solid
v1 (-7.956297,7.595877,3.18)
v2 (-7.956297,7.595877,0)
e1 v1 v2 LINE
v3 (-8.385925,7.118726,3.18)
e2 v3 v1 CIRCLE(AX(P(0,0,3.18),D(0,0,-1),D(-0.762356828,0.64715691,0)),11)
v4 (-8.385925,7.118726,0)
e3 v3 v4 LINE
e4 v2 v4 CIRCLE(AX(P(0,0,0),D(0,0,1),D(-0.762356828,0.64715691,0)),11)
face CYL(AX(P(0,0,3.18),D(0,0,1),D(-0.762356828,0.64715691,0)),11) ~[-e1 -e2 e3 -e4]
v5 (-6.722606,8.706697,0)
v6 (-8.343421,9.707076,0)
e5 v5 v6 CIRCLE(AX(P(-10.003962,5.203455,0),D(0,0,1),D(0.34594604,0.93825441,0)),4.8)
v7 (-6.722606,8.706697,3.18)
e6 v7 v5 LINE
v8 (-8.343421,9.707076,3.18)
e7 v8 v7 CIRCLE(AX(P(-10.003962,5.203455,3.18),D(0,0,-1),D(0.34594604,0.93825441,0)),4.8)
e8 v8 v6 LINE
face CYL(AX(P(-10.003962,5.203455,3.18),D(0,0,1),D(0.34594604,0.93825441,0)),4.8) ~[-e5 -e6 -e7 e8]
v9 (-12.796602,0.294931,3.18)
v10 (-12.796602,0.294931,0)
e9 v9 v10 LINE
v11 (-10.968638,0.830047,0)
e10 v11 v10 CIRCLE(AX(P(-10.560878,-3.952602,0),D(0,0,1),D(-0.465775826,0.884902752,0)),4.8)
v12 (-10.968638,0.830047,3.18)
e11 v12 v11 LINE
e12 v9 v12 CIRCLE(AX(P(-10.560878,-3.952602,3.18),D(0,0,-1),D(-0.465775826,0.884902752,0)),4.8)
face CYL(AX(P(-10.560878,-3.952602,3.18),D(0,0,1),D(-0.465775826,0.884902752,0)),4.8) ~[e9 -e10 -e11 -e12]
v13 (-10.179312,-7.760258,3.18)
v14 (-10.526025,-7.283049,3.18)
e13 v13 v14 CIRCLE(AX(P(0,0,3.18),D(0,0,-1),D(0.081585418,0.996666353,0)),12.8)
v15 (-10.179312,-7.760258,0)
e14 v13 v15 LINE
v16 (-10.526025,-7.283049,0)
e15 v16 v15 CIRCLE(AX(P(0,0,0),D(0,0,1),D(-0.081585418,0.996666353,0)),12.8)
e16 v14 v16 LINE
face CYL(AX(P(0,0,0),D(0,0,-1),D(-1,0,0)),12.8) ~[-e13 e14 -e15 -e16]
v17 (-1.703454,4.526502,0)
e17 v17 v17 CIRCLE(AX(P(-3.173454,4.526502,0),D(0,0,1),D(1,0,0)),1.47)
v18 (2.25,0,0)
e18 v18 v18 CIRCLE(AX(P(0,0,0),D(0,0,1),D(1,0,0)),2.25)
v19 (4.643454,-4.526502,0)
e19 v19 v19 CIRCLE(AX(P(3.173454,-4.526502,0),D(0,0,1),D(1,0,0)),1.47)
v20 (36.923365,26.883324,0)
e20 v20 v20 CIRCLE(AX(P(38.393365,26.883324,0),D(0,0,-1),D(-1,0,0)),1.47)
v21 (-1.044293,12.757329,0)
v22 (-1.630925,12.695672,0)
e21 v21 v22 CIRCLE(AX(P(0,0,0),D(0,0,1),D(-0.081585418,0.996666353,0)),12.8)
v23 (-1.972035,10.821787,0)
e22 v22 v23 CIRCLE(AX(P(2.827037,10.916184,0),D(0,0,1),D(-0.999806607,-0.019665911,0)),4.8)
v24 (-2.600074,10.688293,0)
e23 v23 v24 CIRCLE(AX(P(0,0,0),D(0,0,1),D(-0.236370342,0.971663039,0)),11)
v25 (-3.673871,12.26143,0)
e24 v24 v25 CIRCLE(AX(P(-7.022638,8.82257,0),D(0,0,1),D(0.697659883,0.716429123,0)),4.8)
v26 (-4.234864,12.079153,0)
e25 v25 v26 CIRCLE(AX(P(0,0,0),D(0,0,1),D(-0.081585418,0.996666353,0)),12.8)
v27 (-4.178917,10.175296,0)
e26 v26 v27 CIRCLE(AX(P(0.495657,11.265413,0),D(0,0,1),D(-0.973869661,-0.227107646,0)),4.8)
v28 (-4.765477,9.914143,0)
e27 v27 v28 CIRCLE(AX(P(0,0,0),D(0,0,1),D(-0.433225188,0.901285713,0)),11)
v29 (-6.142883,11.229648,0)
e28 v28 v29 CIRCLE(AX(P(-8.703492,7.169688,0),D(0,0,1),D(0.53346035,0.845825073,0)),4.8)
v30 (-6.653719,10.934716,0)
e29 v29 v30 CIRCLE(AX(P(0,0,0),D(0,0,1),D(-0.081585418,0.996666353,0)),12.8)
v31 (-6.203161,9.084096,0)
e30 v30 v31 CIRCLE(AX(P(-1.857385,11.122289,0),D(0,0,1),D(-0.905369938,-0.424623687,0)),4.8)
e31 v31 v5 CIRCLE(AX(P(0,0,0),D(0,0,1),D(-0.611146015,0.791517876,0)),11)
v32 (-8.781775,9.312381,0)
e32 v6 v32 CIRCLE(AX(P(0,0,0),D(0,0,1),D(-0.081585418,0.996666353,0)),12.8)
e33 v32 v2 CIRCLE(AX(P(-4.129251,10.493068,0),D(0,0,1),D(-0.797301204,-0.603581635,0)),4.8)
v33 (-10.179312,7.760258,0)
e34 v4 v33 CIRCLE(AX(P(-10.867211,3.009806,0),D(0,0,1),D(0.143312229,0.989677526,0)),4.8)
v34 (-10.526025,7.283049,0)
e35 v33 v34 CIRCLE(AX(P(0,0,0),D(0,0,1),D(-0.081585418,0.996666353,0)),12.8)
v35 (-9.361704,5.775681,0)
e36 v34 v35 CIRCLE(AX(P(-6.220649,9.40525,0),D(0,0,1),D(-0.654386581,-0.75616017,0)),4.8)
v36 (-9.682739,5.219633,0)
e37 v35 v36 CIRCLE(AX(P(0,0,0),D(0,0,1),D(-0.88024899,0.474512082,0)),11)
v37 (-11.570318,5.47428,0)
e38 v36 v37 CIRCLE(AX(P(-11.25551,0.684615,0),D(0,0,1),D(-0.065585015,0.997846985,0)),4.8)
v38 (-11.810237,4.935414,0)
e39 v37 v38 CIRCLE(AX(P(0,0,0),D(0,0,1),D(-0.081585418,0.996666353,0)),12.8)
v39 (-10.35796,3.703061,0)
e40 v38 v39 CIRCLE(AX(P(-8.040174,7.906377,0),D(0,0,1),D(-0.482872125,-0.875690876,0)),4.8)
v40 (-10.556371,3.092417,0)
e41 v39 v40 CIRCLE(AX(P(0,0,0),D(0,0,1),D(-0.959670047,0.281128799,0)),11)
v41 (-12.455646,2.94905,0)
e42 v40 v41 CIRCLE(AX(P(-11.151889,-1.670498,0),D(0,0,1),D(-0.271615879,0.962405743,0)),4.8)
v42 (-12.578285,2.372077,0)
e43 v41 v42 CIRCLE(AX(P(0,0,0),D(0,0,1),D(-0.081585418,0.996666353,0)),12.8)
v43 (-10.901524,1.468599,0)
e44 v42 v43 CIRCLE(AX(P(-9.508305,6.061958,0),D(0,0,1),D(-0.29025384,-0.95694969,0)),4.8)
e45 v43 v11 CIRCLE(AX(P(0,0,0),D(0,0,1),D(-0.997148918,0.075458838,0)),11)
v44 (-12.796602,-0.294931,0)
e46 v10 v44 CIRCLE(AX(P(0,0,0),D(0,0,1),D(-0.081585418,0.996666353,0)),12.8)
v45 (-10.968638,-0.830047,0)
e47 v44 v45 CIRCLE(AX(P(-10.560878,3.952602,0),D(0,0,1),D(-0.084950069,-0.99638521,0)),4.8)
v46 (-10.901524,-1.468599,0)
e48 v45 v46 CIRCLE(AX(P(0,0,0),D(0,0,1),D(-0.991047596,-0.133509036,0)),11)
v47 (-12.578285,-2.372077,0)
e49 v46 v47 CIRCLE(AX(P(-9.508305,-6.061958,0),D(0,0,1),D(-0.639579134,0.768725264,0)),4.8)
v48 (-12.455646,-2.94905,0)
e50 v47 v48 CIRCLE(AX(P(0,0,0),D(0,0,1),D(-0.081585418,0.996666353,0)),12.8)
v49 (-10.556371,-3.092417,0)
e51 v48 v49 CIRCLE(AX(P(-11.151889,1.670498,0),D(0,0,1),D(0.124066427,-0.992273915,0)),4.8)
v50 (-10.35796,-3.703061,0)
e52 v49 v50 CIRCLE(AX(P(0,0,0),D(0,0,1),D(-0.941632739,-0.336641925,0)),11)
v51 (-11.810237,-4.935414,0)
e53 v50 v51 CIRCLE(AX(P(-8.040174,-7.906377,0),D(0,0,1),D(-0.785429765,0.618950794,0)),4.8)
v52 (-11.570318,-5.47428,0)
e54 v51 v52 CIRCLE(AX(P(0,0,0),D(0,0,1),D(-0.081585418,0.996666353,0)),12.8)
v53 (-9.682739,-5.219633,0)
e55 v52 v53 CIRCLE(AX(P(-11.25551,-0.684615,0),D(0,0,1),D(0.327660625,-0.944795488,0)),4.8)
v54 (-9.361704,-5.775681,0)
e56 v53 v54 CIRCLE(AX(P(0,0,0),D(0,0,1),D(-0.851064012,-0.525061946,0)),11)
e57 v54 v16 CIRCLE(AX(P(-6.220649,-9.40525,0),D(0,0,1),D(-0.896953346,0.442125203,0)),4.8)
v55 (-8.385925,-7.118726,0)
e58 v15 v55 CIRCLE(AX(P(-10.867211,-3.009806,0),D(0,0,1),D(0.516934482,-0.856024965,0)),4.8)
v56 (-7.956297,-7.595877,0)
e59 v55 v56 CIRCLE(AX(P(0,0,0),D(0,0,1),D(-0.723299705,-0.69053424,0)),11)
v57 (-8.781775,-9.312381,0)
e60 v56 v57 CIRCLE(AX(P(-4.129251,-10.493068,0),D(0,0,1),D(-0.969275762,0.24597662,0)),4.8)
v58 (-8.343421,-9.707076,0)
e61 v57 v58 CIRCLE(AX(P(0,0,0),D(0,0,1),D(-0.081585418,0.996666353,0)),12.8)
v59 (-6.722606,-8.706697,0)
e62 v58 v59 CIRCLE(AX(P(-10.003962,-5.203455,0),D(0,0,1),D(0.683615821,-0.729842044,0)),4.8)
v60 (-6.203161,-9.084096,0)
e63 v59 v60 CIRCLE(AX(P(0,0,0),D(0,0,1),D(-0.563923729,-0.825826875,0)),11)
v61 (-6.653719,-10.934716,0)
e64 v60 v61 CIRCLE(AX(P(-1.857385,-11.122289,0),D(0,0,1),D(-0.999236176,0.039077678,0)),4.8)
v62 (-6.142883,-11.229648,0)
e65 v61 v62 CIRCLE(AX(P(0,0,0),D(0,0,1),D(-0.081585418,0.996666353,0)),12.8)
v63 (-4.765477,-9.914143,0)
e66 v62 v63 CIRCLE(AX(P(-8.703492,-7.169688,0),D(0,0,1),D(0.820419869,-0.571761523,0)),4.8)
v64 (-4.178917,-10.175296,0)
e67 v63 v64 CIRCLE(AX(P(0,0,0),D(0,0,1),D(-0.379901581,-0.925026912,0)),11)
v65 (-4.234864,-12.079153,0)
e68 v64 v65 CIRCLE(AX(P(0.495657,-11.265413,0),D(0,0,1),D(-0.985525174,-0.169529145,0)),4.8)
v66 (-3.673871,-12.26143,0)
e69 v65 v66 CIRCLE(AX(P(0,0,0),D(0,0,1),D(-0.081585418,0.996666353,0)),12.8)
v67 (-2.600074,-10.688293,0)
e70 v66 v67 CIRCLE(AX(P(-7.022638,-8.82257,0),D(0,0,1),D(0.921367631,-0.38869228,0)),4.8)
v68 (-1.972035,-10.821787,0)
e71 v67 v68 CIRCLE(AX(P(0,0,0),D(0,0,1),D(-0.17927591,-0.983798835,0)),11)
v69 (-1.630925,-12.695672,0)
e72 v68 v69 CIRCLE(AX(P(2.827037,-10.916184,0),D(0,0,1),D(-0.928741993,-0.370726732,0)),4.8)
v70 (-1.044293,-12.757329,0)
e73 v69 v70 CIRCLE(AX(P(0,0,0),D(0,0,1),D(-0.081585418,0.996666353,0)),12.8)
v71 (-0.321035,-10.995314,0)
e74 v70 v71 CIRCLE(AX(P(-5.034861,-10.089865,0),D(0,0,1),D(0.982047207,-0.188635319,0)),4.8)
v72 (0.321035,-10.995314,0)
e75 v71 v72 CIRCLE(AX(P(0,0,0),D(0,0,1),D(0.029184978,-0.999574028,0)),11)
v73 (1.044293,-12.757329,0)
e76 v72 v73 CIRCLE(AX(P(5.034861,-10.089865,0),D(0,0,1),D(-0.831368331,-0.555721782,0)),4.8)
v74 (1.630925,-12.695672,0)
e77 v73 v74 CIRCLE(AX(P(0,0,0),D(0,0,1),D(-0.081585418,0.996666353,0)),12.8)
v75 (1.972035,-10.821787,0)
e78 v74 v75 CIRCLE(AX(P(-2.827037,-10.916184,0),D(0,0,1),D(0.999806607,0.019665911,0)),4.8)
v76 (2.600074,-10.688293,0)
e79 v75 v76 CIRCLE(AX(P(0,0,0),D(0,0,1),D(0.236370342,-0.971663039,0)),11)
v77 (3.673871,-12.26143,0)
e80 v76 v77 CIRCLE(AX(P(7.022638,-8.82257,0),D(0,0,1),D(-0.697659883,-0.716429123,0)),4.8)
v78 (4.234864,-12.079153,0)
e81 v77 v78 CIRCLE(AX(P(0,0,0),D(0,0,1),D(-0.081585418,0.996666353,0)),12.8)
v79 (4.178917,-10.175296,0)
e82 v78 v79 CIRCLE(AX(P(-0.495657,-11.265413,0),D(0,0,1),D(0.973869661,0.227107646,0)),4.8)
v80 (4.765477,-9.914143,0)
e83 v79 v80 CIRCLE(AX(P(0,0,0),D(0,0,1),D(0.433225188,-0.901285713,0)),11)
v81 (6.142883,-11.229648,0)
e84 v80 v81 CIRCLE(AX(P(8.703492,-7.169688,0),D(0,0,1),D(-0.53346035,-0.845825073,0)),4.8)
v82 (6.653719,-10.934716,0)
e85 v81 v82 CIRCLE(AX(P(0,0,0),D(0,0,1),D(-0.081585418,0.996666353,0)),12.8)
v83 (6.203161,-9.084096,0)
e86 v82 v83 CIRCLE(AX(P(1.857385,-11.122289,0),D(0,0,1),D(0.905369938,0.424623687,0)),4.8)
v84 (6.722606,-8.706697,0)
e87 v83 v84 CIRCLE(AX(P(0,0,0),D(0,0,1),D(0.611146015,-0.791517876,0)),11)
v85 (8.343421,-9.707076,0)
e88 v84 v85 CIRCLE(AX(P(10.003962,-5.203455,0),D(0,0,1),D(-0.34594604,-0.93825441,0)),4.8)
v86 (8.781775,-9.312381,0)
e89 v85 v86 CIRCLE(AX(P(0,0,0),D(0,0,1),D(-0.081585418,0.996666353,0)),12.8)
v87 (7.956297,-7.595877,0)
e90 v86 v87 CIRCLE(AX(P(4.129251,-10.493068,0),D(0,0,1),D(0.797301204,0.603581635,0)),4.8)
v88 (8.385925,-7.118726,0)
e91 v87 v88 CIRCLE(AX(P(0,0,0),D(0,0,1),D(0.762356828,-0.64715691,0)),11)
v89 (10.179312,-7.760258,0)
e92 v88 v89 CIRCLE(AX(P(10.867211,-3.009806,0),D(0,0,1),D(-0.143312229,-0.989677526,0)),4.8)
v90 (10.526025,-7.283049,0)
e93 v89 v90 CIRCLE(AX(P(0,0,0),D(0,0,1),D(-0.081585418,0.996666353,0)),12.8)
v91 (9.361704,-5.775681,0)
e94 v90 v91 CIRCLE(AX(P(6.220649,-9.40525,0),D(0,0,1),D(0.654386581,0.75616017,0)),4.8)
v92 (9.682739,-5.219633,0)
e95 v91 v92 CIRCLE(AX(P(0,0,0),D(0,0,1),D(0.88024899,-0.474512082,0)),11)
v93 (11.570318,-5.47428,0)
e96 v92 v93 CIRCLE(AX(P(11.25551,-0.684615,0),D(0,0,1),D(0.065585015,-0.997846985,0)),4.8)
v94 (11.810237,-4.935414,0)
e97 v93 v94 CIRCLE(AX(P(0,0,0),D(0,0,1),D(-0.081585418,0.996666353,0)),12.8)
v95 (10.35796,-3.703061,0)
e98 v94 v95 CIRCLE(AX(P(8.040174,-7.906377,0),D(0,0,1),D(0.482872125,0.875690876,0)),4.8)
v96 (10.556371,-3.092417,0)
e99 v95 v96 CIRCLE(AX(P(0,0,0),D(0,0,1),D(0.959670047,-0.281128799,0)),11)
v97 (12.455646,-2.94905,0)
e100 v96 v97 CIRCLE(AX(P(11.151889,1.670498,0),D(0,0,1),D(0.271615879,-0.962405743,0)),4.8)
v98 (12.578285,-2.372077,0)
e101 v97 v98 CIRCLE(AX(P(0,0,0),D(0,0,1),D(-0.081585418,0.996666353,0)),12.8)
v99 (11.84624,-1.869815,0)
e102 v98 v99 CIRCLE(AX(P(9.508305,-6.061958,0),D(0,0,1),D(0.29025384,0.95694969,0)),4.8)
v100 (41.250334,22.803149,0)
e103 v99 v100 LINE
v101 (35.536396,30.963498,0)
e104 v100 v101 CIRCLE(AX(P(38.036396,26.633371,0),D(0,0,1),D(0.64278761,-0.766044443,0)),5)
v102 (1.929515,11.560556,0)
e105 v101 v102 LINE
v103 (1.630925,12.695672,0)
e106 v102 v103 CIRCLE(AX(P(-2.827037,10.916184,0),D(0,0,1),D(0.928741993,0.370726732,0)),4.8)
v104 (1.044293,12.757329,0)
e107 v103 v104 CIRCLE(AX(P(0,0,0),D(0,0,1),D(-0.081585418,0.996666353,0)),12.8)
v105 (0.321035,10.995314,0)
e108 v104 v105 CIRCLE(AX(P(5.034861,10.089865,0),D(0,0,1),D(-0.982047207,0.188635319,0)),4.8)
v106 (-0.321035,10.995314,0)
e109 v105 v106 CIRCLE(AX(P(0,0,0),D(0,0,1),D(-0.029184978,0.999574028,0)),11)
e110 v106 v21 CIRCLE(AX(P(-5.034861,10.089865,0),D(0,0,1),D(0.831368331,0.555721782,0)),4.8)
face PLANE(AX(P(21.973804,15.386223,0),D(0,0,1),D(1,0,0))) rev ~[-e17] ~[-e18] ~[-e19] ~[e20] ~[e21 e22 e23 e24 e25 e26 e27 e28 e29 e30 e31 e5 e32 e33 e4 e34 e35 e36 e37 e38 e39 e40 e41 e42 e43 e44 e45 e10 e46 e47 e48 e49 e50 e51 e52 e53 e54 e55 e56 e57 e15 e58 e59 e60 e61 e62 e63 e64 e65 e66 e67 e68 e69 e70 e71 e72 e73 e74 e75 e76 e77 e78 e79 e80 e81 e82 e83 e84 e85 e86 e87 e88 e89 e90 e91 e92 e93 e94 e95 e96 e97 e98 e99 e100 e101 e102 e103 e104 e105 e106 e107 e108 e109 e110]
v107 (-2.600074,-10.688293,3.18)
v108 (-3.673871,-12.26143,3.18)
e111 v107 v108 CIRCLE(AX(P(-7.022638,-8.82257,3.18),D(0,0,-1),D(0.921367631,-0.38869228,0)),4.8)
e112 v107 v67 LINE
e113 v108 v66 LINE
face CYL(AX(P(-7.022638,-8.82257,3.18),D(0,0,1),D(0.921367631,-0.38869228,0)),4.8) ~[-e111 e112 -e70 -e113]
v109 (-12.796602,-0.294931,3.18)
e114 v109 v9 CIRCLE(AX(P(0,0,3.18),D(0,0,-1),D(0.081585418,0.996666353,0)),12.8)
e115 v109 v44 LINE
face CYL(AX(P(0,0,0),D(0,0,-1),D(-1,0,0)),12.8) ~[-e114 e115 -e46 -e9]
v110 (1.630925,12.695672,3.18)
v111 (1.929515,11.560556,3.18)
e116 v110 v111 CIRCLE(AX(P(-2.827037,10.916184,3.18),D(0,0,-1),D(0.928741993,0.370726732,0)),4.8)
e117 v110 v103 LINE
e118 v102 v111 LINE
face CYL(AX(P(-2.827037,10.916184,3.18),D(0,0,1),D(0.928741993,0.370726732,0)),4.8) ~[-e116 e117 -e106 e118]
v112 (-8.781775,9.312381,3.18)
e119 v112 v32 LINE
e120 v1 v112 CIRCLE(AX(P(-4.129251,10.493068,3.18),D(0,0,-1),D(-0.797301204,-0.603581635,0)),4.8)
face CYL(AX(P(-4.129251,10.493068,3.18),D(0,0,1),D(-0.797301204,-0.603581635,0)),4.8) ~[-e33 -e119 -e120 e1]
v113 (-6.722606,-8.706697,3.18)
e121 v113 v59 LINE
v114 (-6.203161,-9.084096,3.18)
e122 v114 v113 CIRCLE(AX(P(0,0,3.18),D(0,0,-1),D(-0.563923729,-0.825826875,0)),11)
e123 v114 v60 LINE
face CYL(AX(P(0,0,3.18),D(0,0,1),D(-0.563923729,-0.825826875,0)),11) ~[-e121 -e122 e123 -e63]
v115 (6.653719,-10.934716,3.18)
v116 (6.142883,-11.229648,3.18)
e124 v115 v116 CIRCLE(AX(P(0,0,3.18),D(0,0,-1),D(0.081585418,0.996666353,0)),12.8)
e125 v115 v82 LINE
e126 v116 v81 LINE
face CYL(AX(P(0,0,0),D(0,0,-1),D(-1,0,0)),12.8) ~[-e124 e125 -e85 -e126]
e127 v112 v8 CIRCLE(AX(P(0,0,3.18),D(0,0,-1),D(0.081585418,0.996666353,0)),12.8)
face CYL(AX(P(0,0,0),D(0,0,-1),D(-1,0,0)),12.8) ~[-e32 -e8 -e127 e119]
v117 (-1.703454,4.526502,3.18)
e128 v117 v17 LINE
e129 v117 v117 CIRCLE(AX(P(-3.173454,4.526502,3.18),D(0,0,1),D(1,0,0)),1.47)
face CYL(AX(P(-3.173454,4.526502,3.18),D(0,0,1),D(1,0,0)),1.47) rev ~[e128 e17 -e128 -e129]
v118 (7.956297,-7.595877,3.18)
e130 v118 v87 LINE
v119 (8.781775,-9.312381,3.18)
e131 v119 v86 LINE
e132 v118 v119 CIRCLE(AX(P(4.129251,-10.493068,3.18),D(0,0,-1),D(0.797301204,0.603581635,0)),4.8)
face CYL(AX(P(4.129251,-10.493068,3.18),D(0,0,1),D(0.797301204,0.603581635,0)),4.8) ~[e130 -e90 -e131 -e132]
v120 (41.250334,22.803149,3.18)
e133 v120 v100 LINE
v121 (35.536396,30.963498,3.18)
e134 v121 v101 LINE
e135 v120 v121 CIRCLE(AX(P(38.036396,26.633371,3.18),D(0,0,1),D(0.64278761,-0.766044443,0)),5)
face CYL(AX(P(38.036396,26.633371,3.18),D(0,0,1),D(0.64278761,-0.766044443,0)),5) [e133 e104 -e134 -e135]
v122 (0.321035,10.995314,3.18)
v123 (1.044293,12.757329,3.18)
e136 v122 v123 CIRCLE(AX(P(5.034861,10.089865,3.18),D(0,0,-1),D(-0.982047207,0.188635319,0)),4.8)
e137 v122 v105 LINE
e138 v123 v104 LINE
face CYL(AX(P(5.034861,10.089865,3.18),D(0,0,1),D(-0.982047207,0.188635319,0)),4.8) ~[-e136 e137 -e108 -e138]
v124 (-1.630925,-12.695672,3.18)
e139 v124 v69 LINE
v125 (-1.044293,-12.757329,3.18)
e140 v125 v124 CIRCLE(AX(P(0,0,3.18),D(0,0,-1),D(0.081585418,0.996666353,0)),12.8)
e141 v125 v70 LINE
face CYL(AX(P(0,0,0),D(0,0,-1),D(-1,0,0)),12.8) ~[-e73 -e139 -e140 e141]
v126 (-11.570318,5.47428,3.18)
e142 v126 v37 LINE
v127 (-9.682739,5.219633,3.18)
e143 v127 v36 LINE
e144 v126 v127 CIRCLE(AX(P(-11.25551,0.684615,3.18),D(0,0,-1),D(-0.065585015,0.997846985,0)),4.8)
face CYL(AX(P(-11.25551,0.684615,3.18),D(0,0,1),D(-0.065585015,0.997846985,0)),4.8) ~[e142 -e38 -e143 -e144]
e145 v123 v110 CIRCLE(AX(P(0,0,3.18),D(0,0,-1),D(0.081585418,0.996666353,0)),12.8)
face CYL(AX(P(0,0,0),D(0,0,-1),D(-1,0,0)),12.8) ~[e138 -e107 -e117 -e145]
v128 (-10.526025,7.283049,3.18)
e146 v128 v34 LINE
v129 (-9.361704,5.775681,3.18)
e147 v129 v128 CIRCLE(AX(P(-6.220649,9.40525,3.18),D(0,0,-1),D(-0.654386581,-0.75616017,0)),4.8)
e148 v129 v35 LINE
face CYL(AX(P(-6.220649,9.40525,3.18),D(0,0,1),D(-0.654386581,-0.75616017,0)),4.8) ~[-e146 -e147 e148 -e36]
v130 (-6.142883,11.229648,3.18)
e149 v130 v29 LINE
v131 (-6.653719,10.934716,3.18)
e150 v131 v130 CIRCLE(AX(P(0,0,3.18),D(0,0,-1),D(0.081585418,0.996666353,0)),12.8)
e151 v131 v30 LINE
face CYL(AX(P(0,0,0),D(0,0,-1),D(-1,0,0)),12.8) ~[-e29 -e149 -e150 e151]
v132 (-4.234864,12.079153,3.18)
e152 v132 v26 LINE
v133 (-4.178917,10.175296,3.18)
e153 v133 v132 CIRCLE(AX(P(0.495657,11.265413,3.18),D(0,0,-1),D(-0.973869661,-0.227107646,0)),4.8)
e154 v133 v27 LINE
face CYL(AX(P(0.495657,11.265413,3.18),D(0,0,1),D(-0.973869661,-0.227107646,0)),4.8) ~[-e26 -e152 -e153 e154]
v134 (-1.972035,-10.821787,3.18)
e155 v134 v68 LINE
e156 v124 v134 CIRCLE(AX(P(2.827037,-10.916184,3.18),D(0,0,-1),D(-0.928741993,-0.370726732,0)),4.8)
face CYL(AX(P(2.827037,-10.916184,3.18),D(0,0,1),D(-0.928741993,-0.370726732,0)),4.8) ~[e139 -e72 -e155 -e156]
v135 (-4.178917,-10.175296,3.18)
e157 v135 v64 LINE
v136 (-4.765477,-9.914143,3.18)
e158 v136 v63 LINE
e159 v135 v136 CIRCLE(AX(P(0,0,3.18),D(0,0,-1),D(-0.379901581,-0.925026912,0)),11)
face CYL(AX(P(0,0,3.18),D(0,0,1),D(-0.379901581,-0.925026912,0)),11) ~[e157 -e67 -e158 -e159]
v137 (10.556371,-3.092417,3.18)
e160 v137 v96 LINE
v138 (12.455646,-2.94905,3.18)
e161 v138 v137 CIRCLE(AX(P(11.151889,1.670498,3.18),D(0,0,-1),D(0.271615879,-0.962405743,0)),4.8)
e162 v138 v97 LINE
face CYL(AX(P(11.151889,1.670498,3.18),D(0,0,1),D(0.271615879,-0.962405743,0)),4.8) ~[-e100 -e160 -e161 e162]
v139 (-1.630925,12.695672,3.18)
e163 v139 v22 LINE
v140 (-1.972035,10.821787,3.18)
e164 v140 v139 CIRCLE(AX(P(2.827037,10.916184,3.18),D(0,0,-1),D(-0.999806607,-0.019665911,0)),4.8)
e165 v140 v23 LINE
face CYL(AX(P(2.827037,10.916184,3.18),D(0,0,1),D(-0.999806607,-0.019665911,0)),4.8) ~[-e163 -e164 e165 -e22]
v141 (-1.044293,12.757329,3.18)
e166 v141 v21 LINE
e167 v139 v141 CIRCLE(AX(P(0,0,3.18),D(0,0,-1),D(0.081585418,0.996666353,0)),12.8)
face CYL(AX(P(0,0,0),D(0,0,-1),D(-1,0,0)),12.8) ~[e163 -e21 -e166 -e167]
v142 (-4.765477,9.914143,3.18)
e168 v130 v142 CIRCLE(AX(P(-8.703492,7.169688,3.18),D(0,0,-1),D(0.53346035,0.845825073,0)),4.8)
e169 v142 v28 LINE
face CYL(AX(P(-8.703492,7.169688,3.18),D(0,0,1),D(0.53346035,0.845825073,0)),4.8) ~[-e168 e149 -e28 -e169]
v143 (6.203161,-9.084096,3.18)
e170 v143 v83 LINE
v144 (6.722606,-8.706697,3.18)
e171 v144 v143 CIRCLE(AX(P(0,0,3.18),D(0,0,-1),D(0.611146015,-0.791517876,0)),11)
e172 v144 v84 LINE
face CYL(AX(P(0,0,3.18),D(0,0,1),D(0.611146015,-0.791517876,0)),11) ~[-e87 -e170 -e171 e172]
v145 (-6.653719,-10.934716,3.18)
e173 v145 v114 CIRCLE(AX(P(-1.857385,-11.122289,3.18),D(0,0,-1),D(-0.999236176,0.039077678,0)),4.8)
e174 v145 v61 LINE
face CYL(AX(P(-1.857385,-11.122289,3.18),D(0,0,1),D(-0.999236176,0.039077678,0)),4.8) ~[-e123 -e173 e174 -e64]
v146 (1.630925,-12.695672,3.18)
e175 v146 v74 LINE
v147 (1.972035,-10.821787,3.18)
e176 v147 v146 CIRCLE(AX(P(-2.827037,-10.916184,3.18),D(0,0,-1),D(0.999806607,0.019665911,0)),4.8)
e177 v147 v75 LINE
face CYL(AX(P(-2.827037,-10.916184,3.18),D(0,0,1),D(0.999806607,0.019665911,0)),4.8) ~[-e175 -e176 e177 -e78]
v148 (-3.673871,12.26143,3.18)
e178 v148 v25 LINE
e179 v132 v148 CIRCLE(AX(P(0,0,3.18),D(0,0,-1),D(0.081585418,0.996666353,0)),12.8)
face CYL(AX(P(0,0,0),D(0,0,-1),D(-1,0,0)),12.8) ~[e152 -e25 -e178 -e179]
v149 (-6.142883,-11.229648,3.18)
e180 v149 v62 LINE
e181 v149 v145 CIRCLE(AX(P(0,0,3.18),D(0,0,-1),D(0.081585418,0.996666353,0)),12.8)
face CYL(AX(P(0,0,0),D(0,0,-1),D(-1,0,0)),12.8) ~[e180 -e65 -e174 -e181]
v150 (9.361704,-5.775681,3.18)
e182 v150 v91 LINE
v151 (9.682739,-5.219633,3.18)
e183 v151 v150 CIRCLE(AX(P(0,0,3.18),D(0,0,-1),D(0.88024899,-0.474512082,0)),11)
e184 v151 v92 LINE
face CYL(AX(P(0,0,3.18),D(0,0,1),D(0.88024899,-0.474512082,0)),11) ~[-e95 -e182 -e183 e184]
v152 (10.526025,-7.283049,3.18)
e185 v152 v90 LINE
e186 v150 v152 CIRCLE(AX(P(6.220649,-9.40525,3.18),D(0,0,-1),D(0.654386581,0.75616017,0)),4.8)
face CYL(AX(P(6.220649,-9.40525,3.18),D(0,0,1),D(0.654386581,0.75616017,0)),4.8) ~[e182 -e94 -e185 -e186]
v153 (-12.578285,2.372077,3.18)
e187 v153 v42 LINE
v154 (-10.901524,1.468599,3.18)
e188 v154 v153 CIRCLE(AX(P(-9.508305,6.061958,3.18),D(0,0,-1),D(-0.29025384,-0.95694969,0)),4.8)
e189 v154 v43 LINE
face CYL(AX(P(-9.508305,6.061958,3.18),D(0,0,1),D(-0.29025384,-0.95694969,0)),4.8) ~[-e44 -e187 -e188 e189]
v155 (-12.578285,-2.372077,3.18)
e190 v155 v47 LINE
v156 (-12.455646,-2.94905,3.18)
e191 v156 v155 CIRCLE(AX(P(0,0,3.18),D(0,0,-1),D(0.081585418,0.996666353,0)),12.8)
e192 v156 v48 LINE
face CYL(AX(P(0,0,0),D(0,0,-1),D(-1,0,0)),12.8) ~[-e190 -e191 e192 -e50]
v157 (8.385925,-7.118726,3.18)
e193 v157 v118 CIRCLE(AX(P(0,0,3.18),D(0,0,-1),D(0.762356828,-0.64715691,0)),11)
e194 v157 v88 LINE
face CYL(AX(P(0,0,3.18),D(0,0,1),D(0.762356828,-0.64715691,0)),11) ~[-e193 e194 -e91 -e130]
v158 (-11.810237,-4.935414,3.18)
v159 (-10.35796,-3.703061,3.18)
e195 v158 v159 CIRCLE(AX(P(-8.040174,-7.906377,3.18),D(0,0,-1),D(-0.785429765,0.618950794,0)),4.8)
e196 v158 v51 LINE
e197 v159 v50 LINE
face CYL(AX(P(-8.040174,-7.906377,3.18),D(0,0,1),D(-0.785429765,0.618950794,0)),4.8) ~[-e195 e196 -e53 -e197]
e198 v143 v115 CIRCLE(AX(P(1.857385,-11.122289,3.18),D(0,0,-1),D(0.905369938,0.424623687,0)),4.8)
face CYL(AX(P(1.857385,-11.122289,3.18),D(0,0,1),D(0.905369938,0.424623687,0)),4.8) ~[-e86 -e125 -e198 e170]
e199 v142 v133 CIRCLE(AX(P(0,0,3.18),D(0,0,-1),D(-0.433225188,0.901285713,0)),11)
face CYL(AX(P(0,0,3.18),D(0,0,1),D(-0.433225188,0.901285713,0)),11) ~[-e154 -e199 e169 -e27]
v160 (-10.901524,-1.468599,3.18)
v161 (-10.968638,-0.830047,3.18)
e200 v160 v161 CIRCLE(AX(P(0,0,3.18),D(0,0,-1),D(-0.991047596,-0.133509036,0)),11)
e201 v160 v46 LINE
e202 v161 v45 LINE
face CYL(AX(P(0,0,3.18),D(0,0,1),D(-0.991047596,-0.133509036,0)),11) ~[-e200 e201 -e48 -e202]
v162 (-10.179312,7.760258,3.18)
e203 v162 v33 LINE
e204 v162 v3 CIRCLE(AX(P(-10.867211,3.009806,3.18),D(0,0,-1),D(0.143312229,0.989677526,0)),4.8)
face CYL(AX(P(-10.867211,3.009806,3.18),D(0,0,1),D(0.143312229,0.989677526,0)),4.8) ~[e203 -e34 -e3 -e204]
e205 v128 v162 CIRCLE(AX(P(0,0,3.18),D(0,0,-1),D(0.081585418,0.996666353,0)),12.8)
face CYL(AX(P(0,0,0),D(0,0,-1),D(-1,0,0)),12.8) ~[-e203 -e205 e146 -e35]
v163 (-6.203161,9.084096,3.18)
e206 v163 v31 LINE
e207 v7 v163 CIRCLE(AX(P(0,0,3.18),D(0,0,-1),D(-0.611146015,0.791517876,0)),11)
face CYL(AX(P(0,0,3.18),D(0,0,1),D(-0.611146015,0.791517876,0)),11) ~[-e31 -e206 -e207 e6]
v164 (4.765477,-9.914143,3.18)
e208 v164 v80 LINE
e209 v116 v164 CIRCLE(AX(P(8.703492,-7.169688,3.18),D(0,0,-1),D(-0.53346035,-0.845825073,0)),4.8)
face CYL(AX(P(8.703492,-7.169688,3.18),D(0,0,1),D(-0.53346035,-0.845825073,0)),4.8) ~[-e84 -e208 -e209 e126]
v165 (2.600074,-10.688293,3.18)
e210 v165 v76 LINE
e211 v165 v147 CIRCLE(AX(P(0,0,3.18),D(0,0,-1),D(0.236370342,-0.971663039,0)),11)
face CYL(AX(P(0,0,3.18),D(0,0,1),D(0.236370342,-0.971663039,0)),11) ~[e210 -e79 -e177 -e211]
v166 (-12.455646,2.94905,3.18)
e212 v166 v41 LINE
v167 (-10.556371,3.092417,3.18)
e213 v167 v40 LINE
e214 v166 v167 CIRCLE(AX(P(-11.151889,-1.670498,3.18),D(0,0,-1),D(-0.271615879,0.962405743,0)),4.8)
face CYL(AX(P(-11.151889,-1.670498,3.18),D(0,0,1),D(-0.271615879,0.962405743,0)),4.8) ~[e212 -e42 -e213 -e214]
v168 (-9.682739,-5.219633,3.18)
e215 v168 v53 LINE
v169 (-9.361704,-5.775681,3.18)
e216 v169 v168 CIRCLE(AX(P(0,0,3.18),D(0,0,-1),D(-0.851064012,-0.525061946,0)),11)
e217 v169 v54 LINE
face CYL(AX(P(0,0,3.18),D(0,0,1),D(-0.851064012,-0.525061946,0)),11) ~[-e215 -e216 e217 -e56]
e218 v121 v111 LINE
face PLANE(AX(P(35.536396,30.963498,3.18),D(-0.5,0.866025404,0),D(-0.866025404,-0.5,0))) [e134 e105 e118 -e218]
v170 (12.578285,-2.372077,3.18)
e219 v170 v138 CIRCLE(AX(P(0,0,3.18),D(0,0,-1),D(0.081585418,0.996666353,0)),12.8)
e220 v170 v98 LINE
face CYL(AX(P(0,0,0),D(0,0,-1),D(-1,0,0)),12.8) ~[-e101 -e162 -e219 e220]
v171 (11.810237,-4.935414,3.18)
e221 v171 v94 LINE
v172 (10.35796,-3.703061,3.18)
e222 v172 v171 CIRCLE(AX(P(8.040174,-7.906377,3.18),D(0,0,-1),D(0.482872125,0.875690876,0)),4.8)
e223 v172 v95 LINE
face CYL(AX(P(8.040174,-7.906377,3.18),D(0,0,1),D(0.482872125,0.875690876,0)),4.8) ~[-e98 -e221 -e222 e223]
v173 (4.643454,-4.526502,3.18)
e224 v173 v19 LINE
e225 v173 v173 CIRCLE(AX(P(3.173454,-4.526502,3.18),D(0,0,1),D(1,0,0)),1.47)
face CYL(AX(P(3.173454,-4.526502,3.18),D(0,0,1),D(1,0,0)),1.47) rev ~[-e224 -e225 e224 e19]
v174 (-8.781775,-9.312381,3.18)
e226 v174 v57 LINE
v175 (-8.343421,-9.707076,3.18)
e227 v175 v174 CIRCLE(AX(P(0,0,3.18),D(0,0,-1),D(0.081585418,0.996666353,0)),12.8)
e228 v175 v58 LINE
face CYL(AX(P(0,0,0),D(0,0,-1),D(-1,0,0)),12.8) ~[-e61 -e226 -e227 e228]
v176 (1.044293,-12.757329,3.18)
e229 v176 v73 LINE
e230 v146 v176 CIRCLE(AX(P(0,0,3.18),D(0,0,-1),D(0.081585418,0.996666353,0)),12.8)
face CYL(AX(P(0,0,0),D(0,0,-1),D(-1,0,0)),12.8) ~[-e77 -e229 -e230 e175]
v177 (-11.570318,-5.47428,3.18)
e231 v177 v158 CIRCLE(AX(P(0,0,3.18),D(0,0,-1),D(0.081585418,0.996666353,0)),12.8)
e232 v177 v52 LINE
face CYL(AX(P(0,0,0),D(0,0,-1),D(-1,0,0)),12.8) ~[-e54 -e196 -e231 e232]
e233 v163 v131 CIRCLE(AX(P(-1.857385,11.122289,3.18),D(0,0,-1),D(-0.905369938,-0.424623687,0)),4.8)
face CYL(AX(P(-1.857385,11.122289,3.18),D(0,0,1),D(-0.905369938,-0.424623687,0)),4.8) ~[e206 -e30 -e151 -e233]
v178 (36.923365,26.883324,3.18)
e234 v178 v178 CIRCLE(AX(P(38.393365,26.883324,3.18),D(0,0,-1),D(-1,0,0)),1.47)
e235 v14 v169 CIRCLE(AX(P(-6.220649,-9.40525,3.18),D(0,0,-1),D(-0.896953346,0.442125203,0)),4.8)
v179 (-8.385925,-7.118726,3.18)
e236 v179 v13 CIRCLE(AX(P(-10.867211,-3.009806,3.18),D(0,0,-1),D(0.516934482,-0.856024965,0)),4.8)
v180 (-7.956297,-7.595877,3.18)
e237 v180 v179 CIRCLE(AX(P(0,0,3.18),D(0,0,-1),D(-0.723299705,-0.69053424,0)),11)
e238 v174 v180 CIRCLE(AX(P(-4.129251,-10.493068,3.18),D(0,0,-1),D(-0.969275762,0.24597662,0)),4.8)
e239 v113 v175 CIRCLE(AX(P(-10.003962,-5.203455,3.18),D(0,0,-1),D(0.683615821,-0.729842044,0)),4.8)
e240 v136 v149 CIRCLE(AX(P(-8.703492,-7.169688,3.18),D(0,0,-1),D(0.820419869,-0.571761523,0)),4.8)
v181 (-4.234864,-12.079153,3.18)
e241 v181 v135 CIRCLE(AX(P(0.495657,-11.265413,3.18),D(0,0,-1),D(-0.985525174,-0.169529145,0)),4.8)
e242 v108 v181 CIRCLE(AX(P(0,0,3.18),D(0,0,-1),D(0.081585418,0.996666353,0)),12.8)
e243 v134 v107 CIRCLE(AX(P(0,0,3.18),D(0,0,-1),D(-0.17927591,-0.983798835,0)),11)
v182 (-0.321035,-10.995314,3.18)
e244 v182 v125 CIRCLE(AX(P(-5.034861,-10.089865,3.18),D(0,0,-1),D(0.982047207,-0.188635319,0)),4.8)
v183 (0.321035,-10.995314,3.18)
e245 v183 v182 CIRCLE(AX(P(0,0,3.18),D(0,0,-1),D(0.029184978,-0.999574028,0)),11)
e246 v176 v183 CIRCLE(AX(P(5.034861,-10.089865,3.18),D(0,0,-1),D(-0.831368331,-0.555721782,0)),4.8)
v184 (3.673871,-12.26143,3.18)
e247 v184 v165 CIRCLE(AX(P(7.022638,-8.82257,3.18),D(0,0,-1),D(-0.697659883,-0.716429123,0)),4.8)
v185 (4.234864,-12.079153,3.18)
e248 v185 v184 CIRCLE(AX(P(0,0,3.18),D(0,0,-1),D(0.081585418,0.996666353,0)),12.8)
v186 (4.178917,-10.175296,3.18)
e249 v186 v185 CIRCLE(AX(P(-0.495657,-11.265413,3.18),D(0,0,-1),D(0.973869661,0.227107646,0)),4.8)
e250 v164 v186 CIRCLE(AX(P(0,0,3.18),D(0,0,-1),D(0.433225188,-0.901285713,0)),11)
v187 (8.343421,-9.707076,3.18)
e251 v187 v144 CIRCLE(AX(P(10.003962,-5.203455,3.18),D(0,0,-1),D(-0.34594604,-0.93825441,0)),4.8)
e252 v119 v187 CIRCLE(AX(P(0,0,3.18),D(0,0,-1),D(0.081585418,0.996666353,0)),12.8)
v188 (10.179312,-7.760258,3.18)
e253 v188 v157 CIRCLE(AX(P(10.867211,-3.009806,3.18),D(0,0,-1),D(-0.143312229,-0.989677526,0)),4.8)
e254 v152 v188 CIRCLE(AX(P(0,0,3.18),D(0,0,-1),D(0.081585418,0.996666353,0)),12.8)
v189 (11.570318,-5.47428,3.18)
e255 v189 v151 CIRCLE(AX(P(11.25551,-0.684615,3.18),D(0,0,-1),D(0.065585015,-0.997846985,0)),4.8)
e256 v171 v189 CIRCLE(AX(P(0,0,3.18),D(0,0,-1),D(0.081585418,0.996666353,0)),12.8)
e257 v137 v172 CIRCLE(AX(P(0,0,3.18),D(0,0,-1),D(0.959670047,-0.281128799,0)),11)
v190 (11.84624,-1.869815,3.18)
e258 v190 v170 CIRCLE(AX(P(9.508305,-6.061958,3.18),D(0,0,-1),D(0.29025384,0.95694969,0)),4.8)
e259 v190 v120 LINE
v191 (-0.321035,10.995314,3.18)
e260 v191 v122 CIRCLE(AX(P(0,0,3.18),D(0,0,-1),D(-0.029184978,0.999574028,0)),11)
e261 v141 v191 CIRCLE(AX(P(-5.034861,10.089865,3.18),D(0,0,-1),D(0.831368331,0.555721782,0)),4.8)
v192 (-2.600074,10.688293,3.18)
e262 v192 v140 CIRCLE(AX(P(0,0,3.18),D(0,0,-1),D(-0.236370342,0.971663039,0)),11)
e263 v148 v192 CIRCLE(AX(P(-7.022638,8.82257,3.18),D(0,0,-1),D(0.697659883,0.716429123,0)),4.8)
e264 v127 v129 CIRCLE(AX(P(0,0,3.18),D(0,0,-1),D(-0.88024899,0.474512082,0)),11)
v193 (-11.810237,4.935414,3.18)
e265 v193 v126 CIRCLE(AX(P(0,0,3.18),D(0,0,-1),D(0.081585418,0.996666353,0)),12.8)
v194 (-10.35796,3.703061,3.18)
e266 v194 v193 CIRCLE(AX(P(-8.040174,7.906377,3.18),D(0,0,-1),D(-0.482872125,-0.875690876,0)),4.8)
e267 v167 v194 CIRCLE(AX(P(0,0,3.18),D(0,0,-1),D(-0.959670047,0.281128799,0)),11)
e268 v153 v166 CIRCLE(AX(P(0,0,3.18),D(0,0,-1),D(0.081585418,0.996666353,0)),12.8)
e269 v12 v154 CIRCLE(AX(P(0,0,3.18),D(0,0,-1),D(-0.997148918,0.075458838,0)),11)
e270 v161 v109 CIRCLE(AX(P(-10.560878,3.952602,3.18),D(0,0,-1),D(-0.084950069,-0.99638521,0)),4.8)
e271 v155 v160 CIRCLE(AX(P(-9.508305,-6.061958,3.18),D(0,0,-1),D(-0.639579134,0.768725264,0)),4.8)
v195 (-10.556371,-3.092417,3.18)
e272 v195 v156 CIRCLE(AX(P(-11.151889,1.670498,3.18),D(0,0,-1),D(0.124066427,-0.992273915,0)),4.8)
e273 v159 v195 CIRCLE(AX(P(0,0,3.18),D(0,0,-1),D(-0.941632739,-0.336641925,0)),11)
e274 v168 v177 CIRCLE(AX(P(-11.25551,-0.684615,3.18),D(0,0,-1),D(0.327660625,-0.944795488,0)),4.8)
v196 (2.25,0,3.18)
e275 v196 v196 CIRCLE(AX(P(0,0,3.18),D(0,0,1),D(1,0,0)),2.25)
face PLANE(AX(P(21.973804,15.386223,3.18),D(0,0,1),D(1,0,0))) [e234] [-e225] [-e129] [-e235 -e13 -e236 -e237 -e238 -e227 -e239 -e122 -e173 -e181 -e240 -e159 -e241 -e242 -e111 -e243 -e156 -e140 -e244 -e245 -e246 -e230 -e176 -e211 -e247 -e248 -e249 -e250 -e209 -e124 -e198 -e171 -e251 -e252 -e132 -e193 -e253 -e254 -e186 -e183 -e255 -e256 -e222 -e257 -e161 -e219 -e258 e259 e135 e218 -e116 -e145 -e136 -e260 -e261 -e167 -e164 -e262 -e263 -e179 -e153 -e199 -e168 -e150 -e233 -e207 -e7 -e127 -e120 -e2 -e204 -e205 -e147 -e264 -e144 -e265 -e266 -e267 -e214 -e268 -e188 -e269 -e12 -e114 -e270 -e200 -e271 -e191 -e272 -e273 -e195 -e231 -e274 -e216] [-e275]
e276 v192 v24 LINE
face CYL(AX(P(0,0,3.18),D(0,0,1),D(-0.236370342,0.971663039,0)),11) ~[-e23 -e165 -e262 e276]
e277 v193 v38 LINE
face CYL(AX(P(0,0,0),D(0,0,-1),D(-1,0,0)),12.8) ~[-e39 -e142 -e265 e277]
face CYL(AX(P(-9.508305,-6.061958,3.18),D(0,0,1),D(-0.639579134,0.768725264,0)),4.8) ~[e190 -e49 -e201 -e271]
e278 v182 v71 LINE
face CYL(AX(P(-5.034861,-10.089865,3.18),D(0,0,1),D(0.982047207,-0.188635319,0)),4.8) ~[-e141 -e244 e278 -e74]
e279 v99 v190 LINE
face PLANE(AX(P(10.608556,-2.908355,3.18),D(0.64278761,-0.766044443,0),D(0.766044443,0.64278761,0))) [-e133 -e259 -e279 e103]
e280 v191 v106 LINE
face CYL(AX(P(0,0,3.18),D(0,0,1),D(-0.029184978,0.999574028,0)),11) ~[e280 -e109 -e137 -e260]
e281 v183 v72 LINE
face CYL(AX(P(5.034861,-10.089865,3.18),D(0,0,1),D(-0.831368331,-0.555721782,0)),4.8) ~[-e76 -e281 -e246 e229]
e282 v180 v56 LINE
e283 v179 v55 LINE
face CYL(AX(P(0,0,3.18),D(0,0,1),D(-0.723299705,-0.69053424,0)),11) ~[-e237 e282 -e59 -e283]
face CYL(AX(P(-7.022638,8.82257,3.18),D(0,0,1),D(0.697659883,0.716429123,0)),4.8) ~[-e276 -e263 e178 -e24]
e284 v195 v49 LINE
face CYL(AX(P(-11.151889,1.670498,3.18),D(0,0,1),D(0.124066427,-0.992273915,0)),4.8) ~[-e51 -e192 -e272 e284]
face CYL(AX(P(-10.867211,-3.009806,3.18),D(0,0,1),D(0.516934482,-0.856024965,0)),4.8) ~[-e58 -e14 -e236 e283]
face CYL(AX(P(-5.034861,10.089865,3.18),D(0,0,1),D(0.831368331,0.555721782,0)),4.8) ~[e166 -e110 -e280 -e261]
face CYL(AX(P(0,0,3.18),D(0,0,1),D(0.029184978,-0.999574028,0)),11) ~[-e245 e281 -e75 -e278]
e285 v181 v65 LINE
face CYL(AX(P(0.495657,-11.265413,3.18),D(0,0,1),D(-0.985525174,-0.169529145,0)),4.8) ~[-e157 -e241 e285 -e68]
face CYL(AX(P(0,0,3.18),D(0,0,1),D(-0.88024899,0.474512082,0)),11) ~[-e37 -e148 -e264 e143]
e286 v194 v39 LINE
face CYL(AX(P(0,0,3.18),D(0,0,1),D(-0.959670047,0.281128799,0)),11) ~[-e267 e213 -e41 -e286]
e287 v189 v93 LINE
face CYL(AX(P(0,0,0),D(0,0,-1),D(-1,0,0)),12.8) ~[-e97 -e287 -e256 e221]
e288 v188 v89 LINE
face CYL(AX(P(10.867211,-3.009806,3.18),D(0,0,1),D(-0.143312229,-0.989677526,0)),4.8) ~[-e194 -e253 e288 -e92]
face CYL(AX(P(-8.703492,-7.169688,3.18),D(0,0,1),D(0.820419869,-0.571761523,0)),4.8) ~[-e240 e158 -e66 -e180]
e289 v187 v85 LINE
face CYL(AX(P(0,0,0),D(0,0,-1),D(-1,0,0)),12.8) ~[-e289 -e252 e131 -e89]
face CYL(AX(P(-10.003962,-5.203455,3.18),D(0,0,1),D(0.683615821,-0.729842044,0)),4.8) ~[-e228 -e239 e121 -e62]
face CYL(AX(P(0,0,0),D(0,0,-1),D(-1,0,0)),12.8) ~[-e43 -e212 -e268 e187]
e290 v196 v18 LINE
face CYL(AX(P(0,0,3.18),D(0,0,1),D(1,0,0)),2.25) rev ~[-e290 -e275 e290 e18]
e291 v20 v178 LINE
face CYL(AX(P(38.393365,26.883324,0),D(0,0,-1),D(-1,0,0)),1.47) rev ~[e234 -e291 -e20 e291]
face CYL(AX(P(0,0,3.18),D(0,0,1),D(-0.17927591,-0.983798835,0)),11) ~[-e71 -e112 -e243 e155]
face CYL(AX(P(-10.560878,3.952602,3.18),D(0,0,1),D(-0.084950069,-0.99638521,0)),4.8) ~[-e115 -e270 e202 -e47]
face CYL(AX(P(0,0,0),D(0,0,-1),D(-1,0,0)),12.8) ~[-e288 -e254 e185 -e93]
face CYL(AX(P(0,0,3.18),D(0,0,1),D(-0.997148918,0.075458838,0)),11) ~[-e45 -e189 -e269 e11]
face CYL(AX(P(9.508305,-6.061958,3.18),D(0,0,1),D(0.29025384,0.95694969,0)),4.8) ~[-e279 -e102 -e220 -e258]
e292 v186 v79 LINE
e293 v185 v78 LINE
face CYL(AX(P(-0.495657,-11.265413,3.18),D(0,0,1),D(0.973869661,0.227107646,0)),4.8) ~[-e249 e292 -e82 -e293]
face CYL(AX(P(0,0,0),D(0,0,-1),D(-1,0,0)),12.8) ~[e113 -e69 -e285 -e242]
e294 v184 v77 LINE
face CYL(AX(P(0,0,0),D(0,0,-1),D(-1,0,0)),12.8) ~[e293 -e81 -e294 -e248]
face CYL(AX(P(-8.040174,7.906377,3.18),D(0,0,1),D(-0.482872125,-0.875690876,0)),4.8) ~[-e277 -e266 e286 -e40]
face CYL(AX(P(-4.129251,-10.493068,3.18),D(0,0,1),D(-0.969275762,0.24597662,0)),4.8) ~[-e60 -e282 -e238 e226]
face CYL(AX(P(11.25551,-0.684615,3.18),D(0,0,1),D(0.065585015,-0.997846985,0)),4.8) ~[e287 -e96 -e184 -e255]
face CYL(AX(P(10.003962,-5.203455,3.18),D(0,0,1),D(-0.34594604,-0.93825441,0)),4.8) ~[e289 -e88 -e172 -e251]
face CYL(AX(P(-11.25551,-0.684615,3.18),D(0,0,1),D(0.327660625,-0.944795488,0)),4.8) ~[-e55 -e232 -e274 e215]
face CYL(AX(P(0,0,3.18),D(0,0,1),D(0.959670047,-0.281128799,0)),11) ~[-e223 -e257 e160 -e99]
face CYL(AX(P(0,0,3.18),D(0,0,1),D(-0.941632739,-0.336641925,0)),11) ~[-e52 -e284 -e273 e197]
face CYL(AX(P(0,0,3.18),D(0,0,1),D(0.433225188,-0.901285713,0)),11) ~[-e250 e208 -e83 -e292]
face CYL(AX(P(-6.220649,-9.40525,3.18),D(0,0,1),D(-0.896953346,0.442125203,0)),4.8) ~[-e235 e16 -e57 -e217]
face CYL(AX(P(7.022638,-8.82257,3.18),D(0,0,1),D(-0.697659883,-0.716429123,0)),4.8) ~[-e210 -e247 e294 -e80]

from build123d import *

# Parameters (mm, degrees)
SKETCH1_R           = 12.8
BOSS_EXTRUDE1_DEPTH = 3.18
CUT_EXTRUDE1_DEPTH  = 19.379129468
CIRPATTERN1_COUNT   = 30
SKETCH4_R           = 2.25
CUT_EXTRUDE3_DEPTH  = 19.349437359
BOSS_EXTRUDE6_START = -3.18
BOSS_EXTRUDE6_DEPTH = 3.18
SKETCH8_R           = 1.47
CUT_EXTRUDE4_DEPTH  = 54.506204937
SKETCH9_R           = 1.47
CUT_EXTRUDE5_DEPTH  = 54.506204937


with BuildPart() as part:
    # Sketch1 → Boss-Extrude1 (new body)
    with BuildSketch(Plane.XY):
        with Locations(Location((0, 0, 0), (0, 0, 180))):
            Circle(SKETCH1_R)
    extrude(amount=BOSS_EXTRUDE1_DEPTH)

    # Sketch2 → Cut-Extrude1 (cut, through all)
    with BuildSketch(Plane.XY.offset(3.18)):
        with BuildLine():
            ThreePointArc((-0.321034752, 10.995314306), (0, 11), (0.321034752, 10.995314306))
            ThreePointArc((0.321034752, 10.995314306), (0.594388904, 11.912556329), (1.044293354, 12.75732932))
            ThreePointArc((1.044293354, 12.75732932), (0, 12.8), (-1.044293354, 12.75732932))
            ThreePointArc((-1.044293354, 12.75732932), (-0.594388904, 11.912556329), (-0.321034752, 10.995314306))
        make_face()
    cut_extrude1 = extrude(amount=-CUT_EXTRUDE1_DEPTH, mode=Mode.SUBTRACT)

    # CirPattern1: Cut-Extrude1 ×30 about axis
    cirpattern1_axis = Axis((0, 0, 0), (0, 0, 1))
    for i in range(1, CIRPATTERN1_COUNT):
        add(cut_extrude1.rotate(cirpattern1_axis, i * 360 / CIRPATTERN1_COUNT), mode=Mode.SUBTRACT)

    # Sketch4 → Cut-Extrude3 (cut, through all)
    with BuildSketch(Plane.XY.offset(3.18)):
        Circle(SKETCH4_R)
    extrude(amount=-CUT_EXTRUDE3_DEPTH, mode=Mode.SUBTRACT)

    # Sketch6 → Boss-Extrude6 (add)
    with BuildSketch(Plane(origin=(0, 0, 0), x_dir=(-1, 0, 0), z_dir=(0, 0, -1)).offset(BOSS_EXTRUDE6_START)):
        with BuildLine():
            Line((-35.536396094, 30.96349829), (-0.895379942, 10.96349829))
            ThreePointArc((-0.895379942, 10.96349829), (-9.010672487, 6.3093408), (-10.608556418, -2.908355332))
            Line((-10.608556418, -2.908355332), (-41.250334142, 22.803149056))
            ThreePointArc((-41.250334142, 22.803149056), (-42.132156315, 29.501253453), (-35.536396094, 30.96349829))
        make_face()
    extrude(amount=BOSS_EXTRUDE6_DEPTH)

    # Sketch8 → Cut-Extrude4 (cut, through all)
    with BuildSketch(Plane.XY.offset(3.18)):
        with Locations((-3.173453683, 4.526502263)):
            Circle(SKETCH8_R)
        with Locations((3.173453683, -4.526502263)):
            Circle(SKETCH8_R)
    extrude(amount=-CUT_EXTRUDE4_DEPTH, mode=Mode.SUBTRACT)

    # Sketch9 → Cut-Extrude5 (cut, through all)
    with BuildSketch(Plane(origin=(0, 0, 0), x_dir=(-1, 0, 0), z_dir=(0, 0, -1))):
        with Locations((-38.393365118, 26.883323673)):
            Circle(SKETCH9_R)
    extrude(amount=-CUT_EXTRUDE5_DEPTH, mode=Mode.SUBTRACT)


solid = part.part
